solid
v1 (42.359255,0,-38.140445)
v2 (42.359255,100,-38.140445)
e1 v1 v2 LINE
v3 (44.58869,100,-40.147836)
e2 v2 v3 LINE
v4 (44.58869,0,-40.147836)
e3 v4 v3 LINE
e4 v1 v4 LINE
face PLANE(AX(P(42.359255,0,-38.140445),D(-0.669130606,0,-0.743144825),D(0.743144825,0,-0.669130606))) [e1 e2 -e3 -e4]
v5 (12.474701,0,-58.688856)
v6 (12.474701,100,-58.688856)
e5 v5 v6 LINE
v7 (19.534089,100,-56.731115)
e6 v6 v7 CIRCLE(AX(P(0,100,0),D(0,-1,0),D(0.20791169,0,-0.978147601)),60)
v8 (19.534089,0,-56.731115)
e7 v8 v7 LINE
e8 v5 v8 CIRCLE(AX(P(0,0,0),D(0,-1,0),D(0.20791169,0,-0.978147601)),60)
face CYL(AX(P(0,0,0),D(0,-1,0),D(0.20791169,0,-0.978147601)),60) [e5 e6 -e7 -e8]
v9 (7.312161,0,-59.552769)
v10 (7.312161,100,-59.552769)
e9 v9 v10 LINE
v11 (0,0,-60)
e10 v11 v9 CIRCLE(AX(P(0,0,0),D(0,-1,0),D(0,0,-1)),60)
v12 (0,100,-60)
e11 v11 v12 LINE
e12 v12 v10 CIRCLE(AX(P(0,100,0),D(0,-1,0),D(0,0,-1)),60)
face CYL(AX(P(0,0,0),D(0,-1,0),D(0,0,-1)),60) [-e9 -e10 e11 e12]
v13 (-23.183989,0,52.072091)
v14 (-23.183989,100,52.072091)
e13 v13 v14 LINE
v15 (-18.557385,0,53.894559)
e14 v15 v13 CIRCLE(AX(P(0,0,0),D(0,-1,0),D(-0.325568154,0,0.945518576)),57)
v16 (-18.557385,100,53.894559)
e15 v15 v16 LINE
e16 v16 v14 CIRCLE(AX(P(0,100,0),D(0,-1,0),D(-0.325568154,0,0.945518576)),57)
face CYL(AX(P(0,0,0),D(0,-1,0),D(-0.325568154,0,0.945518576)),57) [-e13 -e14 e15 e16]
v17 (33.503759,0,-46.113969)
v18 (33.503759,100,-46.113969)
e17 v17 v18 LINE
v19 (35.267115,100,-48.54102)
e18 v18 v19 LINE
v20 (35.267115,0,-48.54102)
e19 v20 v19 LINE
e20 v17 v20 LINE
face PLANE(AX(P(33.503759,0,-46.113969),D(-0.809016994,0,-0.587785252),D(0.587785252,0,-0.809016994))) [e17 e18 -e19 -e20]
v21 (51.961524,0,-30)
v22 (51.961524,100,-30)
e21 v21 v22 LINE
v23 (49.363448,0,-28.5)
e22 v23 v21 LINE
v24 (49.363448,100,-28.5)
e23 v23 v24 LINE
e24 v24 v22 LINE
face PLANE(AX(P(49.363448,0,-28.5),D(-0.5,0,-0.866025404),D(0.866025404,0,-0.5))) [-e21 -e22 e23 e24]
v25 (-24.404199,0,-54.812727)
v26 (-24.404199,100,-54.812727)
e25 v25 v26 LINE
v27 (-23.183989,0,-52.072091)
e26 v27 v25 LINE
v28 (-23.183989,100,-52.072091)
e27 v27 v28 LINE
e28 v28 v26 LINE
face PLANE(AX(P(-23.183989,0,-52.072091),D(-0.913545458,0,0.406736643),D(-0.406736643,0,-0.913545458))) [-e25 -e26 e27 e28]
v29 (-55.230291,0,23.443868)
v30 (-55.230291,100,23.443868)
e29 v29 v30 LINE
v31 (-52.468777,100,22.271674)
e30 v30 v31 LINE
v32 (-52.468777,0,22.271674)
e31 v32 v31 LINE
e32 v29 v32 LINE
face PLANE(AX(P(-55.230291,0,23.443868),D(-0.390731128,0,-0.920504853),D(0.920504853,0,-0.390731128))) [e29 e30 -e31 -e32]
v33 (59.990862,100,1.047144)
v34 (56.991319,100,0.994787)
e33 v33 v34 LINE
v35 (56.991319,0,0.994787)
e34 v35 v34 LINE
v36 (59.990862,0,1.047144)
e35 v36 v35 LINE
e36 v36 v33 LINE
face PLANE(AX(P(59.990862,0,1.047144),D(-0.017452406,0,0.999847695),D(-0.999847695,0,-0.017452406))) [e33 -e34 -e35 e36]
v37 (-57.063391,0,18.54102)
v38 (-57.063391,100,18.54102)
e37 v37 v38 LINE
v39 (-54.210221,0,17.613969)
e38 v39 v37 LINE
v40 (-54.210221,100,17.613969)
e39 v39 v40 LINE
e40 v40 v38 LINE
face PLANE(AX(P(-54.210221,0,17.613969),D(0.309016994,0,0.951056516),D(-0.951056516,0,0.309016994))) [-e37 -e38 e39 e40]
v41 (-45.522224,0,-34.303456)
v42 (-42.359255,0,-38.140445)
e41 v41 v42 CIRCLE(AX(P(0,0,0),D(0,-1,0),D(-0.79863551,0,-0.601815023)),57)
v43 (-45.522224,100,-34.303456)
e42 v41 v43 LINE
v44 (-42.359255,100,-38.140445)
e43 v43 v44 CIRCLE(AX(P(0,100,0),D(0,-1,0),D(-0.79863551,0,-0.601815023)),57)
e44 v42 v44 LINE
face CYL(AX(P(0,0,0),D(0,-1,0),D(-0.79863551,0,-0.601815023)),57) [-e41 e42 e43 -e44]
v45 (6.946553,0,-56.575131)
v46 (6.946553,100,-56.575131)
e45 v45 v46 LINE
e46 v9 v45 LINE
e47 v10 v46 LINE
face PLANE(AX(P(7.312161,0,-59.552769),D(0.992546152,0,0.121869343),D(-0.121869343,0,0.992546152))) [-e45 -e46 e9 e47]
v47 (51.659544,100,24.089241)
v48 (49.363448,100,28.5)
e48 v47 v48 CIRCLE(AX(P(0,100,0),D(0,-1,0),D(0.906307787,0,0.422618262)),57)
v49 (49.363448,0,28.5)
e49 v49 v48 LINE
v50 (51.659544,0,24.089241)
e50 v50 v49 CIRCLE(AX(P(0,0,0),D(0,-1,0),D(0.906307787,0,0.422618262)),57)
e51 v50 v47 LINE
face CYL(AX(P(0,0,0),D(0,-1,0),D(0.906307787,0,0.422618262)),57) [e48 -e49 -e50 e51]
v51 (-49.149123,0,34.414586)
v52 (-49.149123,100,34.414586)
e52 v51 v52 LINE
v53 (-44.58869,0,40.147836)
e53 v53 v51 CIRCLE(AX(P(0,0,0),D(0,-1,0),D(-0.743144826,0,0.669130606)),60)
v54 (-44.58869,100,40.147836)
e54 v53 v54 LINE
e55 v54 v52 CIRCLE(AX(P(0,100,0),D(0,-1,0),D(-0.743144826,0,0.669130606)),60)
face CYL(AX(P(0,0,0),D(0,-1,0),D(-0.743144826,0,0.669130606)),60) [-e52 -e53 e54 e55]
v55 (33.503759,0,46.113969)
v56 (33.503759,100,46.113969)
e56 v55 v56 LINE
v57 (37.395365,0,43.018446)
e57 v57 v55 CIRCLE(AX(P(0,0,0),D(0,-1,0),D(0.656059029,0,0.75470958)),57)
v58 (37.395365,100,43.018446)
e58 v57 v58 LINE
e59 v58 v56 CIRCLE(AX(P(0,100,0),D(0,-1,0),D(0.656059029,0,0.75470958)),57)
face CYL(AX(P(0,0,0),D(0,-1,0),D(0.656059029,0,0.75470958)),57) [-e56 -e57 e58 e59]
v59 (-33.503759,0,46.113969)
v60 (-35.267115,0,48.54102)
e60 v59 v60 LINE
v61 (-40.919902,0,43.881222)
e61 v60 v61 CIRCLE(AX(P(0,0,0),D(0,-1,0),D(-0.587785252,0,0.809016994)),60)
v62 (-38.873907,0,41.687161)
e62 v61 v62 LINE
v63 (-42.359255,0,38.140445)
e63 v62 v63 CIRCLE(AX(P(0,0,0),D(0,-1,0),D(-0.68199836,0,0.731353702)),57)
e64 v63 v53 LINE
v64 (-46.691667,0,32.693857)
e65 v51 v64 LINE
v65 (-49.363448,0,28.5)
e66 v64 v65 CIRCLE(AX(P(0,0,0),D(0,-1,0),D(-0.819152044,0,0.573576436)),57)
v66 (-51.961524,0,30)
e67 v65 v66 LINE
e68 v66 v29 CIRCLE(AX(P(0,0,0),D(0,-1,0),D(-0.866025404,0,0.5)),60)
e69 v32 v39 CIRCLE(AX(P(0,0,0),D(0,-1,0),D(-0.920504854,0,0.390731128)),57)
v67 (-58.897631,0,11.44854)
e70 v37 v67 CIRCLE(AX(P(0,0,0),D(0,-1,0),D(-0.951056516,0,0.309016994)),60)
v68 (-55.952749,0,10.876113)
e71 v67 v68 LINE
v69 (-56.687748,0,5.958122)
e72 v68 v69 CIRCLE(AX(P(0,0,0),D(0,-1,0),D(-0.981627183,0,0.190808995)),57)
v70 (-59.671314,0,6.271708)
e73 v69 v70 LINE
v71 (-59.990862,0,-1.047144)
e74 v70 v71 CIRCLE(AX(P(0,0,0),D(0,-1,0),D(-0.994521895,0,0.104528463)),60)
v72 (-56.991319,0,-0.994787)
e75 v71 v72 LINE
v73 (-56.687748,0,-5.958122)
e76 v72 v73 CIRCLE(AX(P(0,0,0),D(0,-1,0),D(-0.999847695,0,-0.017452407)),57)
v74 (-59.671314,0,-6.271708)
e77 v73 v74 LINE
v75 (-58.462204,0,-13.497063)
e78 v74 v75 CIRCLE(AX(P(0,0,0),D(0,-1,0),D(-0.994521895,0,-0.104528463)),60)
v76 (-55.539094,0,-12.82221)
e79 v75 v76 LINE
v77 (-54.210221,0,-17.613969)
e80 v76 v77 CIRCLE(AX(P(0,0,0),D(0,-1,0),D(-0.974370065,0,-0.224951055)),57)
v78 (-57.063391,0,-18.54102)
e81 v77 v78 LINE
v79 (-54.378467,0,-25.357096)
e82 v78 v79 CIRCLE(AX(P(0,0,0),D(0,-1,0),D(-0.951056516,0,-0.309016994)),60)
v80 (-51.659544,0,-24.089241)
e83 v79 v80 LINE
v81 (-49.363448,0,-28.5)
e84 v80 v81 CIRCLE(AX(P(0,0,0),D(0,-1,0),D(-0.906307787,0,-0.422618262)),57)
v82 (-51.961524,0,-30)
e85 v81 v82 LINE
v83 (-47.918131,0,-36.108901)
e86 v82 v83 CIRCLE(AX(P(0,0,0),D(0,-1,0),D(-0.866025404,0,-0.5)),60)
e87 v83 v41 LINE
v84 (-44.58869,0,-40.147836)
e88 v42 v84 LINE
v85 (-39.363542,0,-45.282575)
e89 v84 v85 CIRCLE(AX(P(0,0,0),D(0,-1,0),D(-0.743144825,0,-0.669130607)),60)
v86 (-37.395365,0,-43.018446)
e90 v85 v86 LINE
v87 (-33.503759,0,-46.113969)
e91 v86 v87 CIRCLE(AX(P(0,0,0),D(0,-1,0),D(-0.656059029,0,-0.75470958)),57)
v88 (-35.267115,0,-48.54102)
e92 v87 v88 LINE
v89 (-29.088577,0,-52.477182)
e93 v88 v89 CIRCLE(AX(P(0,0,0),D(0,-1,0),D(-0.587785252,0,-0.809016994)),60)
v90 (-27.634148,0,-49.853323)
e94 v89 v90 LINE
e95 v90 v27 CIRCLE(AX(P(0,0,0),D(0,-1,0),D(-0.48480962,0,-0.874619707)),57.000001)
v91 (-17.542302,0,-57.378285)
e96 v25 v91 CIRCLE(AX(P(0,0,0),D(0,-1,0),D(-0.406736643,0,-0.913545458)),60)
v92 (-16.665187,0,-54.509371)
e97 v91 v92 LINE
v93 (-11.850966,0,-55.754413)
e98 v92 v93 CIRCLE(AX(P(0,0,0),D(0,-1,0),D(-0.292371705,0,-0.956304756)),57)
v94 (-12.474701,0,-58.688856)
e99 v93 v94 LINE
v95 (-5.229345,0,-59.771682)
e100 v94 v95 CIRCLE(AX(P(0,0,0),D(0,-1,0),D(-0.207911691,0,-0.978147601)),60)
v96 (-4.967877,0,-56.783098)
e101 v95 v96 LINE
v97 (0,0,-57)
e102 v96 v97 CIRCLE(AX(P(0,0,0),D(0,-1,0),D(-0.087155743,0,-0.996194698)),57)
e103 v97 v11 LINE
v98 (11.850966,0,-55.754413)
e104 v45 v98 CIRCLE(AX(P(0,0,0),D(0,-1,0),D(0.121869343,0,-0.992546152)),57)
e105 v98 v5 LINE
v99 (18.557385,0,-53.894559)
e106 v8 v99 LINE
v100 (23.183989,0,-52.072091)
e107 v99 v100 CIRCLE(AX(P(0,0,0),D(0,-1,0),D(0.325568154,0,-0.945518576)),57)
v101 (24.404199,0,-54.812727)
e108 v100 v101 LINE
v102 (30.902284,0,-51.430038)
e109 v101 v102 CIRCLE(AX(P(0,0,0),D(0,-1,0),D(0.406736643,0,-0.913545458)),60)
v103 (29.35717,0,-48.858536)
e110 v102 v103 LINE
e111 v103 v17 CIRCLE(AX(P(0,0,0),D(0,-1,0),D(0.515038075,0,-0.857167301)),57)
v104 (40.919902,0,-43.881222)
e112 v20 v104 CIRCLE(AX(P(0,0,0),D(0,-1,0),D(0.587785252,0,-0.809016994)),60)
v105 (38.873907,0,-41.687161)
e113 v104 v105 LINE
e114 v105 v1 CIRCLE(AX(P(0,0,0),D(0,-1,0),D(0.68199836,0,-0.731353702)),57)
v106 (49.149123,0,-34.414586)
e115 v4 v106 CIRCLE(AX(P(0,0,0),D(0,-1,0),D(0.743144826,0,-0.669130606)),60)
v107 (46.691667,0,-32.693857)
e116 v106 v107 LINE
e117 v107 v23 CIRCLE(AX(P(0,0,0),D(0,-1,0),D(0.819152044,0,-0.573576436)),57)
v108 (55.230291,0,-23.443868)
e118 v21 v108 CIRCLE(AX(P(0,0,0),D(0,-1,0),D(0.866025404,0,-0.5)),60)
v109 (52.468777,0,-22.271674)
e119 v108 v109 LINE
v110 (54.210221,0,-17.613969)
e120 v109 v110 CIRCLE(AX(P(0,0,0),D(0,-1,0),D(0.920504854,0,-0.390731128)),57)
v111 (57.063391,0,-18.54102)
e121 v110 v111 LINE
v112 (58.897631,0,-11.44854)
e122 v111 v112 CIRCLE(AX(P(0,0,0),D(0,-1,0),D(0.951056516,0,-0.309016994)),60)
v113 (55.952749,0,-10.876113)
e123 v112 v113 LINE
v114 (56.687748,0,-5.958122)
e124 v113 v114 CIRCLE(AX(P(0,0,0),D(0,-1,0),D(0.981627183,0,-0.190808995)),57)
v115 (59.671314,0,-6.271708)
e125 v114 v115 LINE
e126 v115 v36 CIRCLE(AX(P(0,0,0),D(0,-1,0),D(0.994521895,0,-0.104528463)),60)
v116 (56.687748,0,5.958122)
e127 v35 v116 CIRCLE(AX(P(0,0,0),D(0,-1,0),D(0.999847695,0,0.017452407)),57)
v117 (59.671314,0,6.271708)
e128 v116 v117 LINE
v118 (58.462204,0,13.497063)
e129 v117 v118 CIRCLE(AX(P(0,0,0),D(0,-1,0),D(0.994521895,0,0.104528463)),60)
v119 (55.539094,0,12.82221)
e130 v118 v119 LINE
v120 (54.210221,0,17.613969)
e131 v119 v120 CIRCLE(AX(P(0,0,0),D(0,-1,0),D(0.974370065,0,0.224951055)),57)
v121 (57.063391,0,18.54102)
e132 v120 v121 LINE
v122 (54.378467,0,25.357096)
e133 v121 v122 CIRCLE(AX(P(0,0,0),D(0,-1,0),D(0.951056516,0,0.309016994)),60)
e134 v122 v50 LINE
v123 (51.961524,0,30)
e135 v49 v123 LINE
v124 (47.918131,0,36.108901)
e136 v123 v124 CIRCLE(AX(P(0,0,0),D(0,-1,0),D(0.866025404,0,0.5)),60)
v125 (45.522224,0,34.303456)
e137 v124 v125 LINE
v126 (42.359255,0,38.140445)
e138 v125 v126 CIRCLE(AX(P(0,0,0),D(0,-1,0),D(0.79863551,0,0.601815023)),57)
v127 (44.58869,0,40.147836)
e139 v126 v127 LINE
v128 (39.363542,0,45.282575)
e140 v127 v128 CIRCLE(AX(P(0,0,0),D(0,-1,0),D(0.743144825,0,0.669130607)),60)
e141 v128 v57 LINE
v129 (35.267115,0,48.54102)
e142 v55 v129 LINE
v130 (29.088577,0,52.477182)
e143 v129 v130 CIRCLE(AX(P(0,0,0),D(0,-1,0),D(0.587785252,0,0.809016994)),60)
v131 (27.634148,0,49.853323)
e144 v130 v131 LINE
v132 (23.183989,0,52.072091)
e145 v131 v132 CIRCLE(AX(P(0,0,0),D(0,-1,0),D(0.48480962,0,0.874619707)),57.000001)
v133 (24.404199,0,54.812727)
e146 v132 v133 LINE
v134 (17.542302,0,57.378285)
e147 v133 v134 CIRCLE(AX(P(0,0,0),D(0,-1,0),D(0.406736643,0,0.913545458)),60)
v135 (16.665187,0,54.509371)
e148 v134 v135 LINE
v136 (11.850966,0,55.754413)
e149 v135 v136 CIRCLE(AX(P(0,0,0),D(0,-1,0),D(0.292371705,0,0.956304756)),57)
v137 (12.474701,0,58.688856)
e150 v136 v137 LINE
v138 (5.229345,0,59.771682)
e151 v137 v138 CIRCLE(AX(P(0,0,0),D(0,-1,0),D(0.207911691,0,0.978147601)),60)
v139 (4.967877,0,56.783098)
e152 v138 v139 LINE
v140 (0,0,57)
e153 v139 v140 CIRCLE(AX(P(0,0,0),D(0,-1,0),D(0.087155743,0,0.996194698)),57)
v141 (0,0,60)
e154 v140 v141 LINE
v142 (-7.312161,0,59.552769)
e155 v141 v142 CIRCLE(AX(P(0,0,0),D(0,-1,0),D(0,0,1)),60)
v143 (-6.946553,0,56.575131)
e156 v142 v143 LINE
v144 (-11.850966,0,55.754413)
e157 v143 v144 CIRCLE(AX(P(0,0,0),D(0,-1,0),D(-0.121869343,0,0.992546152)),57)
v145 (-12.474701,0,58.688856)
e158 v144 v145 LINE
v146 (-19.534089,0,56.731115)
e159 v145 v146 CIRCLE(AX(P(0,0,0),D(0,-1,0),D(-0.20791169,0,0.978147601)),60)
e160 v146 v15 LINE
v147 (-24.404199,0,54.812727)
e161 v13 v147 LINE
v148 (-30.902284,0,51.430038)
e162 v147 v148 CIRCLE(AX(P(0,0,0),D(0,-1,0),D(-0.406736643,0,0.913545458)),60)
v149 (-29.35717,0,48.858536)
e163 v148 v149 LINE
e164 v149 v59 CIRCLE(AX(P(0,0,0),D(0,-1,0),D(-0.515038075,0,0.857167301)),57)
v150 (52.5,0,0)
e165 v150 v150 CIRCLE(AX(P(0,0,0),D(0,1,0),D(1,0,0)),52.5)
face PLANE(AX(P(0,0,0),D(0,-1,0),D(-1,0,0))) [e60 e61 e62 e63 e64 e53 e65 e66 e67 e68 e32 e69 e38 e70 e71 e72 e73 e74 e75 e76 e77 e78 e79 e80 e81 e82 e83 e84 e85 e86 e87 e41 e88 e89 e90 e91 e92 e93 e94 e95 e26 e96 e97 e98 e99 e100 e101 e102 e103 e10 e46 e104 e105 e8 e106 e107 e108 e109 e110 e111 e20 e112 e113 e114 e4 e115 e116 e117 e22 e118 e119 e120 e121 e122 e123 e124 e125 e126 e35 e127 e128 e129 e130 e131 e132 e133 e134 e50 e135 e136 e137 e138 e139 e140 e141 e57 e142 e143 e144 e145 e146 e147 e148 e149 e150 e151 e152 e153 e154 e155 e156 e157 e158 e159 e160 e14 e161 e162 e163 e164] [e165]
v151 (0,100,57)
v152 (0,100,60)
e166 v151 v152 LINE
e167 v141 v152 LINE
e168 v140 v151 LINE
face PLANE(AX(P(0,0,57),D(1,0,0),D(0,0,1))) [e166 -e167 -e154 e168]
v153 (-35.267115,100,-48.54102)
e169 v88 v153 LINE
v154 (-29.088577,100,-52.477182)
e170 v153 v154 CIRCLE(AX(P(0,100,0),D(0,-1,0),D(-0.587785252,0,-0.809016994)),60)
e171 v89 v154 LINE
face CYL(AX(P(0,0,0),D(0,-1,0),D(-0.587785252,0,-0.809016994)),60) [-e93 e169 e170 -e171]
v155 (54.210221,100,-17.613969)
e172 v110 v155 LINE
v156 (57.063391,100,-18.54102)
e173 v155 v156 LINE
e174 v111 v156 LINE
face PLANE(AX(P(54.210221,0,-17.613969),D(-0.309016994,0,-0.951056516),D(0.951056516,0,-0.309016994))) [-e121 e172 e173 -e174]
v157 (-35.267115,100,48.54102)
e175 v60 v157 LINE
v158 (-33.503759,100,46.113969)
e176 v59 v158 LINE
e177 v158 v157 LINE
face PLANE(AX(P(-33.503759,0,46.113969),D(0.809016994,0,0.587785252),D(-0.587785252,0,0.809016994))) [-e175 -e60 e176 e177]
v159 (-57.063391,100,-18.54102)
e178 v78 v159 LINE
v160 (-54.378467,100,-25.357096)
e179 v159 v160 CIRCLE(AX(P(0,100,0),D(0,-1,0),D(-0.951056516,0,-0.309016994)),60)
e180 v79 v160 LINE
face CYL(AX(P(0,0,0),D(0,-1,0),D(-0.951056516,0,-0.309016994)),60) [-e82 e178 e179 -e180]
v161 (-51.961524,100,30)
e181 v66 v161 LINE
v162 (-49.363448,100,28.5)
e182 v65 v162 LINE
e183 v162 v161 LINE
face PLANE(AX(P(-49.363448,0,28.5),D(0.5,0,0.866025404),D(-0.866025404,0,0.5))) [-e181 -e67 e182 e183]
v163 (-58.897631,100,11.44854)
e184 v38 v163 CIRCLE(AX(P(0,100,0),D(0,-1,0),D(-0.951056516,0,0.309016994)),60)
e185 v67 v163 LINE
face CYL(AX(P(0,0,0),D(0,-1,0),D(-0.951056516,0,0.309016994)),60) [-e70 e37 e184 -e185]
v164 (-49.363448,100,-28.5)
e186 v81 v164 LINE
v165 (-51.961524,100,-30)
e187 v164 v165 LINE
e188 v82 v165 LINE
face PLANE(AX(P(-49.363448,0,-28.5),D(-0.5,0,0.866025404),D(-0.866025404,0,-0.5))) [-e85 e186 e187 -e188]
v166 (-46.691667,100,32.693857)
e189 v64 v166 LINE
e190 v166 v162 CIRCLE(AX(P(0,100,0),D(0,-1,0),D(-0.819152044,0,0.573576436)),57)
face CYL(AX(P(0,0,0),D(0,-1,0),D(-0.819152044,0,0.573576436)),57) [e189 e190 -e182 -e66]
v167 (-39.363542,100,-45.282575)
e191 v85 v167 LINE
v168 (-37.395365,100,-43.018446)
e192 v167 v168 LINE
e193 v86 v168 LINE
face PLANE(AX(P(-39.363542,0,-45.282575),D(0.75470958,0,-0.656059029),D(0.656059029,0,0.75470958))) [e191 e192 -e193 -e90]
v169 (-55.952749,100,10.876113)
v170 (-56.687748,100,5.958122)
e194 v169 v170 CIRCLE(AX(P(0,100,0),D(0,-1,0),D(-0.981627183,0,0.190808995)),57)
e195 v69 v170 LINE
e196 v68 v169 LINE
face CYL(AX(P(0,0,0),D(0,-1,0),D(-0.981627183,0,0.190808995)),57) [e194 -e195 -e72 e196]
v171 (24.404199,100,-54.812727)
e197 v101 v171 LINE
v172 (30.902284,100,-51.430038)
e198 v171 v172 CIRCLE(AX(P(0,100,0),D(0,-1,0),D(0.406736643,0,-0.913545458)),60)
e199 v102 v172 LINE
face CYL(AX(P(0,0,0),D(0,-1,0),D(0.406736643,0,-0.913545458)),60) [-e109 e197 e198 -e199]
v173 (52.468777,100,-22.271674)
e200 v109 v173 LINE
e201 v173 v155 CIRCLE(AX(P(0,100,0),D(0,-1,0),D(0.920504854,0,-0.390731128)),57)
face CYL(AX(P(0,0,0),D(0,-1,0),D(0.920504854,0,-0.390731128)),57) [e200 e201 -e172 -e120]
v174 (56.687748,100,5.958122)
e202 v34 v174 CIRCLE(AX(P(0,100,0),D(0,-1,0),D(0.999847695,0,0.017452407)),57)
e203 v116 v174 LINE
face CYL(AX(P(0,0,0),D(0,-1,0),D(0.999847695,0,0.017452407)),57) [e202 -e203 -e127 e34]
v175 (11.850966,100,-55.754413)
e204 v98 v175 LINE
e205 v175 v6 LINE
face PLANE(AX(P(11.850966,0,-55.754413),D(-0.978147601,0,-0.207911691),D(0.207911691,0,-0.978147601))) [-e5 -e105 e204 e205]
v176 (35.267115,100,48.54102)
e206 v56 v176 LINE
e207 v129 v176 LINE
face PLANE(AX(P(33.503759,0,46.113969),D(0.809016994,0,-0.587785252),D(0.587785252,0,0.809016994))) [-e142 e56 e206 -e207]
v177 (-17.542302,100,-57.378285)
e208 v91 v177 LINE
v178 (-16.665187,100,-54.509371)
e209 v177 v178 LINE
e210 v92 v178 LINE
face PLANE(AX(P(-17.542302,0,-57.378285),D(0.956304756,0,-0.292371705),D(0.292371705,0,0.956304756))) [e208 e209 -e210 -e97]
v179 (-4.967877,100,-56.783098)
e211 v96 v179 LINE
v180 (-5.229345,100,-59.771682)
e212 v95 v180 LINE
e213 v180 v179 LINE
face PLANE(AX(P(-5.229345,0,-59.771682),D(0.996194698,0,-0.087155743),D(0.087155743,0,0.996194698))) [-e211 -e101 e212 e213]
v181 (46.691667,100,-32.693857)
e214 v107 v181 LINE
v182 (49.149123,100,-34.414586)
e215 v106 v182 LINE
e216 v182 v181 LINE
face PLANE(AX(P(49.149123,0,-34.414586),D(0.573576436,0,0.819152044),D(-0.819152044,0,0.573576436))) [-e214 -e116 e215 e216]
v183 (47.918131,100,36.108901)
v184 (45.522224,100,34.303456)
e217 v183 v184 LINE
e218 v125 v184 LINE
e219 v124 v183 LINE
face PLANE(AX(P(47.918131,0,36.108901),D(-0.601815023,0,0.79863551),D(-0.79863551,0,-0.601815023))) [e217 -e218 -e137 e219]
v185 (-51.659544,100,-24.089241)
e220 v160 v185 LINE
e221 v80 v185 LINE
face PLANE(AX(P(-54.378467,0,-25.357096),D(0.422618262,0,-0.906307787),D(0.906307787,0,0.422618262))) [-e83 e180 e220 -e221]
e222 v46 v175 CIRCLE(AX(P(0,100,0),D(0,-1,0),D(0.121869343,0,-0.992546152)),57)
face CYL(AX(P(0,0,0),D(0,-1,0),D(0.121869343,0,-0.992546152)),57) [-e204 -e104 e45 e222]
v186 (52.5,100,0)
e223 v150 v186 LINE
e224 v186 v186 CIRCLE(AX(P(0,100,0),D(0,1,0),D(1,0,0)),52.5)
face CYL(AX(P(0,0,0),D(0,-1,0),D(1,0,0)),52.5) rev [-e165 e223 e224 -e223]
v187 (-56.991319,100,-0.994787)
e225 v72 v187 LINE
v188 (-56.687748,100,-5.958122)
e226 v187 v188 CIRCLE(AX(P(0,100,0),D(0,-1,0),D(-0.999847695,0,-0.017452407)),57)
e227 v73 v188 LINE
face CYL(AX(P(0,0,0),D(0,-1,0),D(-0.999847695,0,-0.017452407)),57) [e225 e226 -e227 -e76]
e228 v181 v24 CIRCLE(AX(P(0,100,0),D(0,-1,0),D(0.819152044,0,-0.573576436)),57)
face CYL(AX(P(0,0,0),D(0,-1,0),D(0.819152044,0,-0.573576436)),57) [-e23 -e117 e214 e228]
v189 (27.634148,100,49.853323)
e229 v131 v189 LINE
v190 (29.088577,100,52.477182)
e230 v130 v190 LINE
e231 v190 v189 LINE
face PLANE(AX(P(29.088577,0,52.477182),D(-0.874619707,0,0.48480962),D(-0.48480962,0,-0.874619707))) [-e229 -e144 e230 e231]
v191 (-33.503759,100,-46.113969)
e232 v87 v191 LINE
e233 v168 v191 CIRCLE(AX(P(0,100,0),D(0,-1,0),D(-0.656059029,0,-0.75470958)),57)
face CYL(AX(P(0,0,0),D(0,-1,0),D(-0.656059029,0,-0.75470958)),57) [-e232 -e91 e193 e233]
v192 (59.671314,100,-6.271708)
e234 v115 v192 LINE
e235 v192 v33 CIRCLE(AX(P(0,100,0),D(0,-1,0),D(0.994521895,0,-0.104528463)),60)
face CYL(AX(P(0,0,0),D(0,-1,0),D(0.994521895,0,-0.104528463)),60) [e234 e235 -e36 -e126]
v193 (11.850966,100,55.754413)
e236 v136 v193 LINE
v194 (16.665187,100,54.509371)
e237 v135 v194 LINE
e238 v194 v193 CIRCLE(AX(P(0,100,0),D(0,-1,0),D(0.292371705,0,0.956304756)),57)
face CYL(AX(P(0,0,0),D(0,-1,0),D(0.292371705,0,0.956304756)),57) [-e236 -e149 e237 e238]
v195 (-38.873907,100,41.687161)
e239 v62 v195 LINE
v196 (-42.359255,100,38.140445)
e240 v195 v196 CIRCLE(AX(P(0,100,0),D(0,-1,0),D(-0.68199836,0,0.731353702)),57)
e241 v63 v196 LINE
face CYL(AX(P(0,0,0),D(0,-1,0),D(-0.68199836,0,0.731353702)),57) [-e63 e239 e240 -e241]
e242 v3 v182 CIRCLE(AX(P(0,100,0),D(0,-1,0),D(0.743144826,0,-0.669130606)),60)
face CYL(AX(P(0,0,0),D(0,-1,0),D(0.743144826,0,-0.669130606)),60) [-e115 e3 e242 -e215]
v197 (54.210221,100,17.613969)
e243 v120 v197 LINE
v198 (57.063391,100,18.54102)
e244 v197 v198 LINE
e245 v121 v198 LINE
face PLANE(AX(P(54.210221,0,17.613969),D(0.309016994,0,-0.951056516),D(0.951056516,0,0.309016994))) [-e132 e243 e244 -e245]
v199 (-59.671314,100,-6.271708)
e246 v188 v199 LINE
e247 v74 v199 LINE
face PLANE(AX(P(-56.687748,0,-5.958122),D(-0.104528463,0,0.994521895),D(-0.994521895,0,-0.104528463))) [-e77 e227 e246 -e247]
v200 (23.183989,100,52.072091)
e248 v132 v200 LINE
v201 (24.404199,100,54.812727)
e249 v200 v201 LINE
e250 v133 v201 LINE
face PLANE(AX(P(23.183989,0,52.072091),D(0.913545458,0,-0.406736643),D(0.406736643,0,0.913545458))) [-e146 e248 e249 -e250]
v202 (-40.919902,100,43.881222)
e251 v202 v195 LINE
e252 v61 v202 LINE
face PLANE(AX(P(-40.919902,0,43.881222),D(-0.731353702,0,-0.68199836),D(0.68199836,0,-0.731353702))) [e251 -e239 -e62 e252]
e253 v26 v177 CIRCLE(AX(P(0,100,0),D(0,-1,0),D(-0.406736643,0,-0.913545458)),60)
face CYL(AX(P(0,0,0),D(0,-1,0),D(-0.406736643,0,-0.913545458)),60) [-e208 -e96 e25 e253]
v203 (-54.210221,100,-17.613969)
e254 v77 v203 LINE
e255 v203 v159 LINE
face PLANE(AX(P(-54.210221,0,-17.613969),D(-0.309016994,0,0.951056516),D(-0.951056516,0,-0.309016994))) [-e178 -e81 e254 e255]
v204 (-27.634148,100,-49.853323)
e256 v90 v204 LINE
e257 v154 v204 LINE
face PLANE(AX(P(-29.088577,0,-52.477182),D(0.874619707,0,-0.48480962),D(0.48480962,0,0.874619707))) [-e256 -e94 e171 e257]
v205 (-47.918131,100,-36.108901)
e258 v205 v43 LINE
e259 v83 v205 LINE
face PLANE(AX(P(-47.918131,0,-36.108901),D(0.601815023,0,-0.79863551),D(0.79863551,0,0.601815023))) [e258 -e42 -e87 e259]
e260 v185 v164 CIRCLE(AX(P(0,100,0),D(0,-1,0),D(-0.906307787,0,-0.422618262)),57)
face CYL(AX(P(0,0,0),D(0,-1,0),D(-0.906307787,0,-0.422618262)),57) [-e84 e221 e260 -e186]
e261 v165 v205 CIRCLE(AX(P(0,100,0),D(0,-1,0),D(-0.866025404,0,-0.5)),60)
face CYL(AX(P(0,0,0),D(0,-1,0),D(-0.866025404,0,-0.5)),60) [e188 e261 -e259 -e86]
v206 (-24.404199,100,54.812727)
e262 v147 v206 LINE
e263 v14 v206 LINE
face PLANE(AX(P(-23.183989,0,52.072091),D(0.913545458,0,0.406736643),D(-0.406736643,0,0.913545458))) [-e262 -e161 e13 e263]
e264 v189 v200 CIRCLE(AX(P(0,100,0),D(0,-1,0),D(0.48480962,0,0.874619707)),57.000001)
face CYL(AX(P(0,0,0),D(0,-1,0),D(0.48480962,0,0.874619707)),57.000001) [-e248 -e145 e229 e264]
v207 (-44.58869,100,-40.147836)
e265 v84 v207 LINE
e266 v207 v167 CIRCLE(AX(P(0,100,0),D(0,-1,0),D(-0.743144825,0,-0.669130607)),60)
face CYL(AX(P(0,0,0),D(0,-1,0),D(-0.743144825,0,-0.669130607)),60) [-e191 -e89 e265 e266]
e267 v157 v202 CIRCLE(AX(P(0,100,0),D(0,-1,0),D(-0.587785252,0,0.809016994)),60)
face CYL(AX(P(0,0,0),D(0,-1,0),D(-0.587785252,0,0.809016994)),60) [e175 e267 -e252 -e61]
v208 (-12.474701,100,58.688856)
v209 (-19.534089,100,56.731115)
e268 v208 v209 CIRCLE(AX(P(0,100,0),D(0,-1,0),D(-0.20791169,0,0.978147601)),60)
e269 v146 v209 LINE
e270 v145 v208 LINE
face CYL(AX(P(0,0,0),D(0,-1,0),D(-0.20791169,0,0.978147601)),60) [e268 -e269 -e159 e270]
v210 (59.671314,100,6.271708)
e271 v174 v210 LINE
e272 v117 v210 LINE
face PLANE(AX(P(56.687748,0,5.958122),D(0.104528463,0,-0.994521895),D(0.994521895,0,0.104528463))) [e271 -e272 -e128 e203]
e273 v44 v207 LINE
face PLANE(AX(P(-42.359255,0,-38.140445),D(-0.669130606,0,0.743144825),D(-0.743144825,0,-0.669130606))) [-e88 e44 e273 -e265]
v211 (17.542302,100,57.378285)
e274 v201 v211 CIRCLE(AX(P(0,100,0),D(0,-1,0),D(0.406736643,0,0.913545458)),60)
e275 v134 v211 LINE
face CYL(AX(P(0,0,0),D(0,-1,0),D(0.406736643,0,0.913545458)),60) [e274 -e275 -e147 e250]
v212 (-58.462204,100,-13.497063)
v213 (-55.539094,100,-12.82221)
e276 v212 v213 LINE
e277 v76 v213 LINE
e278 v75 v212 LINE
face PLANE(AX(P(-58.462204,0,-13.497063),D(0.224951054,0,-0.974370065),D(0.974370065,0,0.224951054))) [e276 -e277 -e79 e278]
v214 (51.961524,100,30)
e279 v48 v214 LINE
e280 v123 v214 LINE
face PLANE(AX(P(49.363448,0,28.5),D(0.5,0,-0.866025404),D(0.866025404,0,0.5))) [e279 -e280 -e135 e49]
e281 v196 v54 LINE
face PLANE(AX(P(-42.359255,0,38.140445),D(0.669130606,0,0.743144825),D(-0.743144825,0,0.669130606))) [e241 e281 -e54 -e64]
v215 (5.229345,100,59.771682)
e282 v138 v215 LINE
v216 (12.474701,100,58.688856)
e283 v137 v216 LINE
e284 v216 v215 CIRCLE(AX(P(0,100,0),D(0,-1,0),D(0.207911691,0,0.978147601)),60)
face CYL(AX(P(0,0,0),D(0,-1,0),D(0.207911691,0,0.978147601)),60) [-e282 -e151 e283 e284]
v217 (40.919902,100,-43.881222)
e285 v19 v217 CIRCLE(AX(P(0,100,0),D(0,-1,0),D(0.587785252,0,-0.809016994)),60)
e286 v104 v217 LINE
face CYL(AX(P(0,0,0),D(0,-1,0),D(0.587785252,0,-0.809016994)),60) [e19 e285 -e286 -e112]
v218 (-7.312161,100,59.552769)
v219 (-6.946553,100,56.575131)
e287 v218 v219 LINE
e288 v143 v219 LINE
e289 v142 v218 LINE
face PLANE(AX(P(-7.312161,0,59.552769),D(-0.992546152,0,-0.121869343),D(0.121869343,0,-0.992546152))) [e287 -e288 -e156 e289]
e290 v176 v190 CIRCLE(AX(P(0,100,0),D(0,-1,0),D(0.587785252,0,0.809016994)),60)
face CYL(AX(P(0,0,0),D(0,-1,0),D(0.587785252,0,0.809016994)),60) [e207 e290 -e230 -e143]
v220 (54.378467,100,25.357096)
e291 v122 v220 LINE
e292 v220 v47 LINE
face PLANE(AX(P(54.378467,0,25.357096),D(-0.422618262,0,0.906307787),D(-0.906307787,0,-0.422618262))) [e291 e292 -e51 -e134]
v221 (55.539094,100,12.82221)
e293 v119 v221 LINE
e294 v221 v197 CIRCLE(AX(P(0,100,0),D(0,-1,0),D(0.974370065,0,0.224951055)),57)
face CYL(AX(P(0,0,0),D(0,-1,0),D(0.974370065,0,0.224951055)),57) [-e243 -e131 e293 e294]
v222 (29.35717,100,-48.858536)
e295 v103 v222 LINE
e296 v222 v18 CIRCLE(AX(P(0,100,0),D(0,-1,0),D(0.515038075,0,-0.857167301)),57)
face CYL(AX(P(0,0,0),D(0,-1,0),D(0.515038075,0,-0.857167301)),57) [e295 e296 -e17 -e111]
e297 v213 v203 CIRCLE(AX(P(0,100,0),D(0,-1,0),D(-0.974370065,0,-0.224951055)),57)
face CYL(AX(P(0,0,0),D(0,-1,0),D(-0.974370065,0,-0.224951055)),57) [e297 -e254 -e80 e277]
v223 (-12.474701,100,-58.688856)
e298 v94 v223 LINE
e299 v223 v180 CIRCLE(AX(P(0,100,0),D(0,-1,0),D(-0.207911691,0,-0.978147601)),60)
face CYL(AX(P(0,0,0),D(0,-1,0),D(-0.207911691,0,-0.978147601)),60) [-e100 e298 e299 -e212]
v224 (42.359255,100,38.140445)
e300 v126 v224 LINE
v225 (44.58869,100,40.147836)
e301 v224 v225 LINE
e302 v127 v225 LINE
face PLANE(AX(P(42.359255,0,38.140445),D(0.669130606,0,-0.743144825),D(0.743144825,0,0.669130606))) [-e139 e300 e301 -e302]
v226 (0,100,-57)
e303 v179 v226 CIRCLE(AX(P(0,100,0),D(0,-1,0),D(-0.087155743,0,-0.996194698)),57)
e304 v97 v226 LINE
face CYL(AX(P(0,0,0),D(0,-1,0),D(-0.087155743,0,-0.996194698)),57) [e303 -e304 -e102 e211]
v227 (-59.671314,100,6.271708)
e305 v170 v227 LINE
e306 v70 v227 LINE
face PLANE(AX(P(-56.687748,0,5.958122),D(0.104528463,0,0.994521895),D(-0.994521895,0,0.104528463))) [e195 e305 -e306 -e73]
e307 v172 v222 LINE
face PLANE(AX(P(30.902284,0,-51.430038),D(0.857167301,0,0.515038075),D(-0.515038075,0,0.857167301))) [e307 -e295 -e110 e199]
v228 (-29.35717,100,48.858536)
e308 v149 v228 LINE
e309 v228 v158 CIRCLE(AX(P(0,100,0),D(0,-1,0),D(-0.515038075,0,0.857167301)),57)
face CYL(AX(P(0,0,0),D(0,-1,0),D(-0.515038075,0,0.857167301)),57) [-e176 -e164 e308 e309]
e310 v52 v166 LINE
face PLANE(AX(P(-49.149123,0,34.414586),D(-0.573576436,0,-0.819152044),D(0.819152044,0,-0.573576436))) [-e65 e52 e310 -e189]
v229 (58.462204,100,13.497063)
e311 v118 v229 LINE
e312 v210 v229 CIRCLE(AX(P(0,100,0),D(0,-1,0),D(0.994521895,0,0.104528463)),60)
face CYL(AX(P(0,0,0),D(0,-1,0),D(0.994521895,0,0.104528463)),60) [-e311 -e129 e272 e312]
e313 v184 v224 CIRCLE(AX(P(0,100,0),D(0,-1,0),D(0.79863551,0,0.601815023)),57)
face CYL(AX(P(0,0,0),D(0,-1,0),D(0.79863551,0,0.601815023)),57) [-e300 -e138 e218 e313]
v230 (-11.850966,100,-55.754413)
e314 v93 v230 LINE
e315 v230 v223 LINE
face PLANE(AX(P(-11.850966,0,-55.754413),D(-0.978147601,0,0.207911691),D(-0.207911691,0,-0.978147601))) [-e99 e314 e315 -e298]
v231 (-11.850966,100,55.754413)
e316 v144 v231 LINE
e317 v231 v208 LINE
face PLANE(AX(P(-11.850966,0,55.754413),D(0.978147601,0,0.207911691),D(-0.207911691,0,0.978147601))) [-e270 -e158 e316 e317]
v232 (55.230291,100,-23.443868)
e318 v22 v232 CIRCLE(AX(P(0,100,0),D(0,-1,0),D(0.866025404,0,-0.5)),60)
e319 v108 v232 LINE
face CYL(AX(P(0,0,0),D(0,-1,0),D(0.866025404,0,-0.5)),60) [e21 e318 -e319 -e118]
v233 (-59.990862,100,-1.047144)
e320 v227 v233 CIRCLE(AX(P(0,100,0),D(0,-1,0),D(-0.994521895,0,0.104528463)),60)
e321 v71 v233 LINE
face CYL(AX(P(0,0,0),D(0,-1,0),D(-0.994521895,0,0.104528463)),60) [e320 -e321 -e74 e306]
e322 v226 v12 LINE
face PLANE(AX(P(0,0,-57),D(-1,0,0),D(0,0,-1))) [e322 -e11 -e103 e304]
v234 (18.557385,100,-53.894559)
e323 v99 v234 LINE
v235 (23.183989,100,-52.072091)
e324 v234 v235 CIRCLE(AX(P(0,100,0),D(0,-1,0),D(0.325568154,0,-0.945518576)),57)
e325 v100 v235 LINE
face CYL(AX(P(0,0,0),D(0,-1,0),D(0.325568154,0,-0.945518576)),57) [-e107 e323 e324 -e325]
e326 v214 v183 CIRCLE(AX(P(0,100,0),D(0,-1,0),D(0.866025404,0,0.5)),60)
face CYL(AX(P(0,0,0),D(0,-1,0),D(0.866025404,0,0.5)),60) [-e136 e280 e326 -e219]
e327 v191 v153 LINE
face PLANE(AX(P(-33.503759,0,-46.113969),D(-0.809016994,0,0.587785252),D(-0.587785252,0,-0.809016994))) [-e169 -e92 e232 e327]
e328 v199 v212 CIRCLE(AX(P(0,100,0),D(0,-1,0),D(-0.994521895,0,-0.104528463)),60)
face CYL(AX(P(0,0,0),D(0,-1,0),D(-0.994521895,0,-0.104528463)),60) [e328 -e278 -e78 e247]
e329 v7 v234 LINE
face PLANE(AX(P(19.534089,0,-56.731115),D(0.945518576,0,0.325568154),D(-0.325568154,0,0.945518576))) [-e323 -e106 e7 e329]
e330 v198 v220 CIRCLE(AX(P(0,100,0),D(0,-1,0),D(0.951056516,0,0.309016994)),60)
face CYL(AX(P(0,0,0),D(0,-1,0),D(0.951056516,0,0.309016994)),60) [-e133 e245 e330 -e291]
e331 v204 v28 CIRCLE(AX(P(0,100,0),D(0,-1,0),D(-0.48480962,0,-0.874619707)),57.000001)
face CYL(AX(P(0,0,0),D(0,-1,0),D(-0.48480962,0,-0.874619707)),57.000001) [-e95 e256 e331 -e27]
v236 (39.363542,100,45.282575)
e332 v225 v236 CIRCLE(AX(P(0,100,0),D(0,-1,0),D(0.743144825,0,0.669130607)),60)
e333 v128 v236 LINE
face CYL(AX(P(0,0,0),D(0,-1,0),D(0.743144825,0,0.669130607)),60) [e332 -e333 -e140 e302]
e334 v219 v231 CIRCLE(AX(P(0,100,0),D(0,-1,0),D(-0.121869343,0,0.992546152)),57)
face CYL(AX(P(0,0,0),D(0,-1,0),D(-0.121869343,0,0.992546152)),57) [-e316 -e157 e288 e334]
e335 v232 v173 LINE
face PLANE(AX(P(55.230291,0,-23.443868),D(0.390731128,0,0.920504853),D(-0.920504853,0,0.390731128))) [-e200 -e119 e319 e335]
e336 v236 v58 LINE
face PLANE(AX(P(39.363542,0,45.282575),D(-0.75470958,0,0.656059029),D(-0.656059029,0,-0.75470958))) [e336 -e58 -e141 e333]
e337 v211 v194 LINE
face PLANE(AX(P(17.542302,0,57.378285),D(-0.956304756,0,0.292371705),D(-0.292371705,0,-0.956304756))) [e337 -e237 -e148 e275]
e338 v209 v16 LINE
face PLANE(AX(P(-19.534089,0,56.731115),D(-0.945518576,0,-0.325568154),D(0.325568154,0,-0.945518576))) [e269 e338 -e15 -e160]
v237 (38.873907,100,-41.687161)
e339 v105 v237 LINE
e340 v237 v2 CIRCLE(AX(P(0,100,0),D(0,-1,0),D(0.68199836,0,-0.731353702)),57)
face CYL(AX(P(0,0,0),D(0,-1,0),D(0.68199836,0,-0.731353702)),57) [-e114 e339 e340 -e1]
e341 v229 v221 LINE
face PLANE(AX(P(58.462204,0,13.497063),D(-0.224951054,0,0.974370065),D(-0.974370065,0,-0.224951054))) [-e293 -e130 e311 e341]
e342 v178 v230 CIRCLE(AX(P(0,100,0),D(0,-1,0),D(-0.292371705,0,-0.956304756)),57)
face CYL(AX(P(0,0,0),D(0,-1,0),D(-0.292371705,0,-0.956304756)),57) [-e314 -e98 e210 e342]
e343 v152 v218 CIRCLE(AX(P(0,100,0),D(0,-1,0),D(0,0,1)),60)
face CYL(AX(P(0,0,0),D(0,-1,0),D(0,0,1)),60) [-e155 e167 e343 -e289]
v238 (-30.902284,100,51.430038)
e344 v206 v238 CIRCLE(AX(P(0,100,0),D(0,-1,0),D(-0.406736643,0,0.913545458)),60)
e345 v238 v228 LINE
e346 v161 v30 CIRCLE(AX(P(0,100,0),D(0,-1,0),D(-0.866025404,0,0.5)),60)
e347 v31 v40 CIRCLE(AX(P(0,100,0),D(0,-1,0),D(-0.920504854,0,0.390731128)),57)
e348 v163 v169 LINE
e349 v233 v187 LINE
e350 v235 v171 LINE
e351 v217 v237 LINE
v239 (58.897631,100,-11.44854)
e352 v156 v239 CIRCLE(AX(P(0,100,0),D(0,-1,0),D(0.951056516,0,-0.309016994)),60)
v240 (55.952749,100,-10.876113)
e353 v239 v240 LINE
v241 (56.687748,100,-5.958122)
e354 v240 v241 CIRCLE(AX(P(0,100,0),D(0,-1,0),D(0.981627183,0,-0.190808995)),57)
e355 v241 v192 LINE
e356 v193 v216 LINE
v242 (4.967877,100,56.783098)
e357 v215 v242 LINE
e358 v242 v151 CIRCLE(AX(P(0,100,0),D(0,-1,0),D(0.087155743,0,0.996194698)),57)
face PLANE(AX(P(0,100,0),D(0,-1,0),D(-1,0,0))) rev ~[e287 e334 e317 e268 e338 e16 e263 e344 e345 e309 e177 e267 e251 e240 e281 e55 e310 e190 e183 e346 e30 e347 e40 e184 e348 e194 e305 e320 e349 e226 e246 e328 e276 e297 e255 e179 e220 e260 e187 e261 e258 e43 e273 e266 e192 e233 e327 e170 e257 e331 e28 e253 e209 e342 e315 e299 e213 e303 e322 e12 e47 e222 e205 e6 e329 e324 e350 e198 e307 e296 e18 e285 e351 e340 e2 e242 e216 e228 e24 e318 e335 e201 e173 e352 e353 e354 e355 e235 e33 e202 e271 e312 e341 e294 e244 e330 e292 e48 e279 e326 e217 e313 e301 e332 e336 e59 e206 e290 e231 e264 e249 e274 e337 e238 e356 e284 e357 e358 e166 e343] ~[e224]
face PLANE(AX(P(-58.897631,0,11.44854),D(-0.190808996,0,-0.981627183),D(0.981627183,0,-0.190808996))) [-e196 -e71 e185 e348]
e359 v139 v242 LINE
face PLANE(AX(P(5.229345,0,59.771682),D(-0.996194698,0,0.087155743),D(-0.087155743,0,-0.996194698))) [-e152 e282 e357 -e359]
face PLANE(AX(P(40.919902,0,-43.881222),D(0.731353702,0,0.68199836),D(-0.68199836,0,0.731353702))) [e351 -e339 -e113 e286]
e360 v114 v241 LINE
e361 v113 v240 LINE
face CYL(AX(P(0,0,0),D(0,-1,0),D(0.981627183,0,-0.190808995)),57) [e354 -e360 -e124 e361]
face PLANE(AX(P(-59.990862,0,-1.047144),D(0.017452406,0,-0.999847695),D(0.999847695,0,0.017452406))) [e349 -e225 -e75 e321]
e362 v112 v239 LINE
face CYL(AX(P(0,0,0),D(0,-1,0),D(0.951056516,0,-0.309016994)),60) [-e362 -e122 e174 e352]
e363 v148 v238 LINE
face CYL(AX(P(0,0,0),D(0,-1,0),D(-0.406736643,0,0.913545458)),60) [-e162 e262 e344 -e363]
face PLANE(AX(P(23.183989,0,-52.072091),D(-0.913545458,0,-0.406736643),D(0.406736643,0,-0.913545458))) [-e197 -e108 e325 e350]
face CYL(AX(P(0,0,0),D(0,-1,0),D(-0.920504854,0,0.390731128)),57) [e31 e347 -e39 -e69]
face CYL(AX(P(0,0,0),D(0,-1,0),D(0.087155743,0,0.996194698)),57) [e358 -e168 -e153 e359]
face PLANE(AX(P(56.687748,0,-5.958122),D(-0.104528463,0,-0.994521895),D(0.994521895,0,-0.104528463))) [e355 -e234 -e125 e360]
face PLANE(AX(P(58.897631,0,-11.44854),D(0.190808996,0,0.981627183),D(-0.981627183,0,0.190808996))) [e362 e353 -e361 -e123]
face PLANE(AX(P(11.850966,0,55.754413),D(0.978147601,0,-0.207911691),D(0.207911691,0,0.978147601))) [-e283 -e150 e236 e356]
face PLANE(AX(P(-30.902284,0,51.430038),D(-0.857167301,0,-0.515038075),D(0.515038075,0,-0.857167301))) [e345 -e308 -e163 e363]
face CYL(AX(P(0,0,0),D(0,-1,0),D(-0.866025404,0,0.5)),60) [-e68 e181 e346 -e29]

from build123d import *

# Parameters (mm, degrees)
SKETCH1_R           = 52.5
BOSS_EXTRUDE1_DEPTH = 100


with BuildPart() as part:
    # Sketch1 → Boss-Extrude1 (new body)
    with BuildSketch(Plane(origin=(0, 0, 0), x_dir=(1, 0, 0), z_dir=(0, 1, 0))):
        with BuildLine():
            Line((0, 57), (0, 60))
            ThreePointArc((0, 60), (3.662912372, 59.888087905), (7.312160604, 59.552769098))
            Line((7.312160604, 59.552769098), (6.946552574, 56.575130644))
            ThreePointArc((6.946552574, 56.575130644), (9.407713534, 56.218279288), (11.850966377, 55.754413242))
            Line((11.850966377, 55.754413242), (12.474701449, 58.688856044))
            ThreePointArc((12.474701449, 58.688856044), (16.034302565, 57.817827193), (19.534089267, 56.731114536))
            Line((19.534089267, 56.731114536), (18.557384804, 53.894558809))
            ThreePointArc((18.557384804, 53.894558809), (20.890569923, 53.033801375), (23.183988655, 52.072091086))
            Line((23.183988655, 52.072091086), (24.404198585, 54.812727459))
            ThreePointArc((24.404198585, 54.812727459), (27.704916794, 53.220649991), (30.902284495, 51.430038042))
            Line((30.902284495, 51.430038042), (29.35717027, 48.85853614))
            ThreePointArc((29.35717027, 48.85853614), (31.460408163, 47.531491858), (33.503759381, 46.113968679))
            Line((33.503759381, 46.113968679), (35.267115138, 48.541019662))
            ThreePointArc((35.267115138, 48.541019662), (38.164693217, 46.297475003), (40.919901604, 43.881222097))
            Line((40.919901604, 43.881222097), (38.873906524, 41.687160992))
            ThreePointArc((38.873906524, 41.687160992), (40.655275602, 39.951828065), (42.359255052, 38.140444562))
            Line((42.359255052, 38.140444562), (44.588689529, 40.147836382))
            ThreePointArc((44.588689529, 40.147836382), (46.956489411, 37.350878198), (49.149122657, 34.414586181))
            Line((49.149122657, 34.414586181), (46.691666524, 32.693856872))
            ThreePointArc((46.691666524, 32.693856872), (48.073312411, 30.626077676), (49.363448016, 28.5))
            Line((49.363448016, 28.5), (51.961524227, 30))
            ThreePointArc((51.961524227, 30), (53.696061696, 26.771868787), (55.230291207, 23.443867709))
            Line((55.230291207, 23.443867709), (52.468776647, 22.271674324))
            ThreePointArc((52.468776647, 22.271674324), (53.390314787, 19.961820732), (54.210221429, 17.613968679))
            Line((54.210221429, 17.613968679), (57.063390978, 18.541019662))
            ThreePointArc((57.063390978, 18.541019662), (58.088858423, 15.022800243), (58.897631007, 11.448539723))
            Line((58.897631007, 11.448539723), (55.952749457, 10.876112736))
            ThreePointArc((55.952749457, 10.876112736), (56.373904212, 8.425136434), (56.687748036, 5.958122406))
            Line((56.687748036, 5.958122406), (59.671313722, 6.271707796))
            ThreePointArc((59.671313722, 6.271707796), (59.942893295, 2.617163242), (59.990861709, -1.047144386))
            Line((59.990861709, -1.047144386), (56.991318624, -0.994787167))
            ThreePointArc((56.991318624, -0.994787167), (56.89368351, -3.479766753), (56.687748036, -5.958122406))
            Line((56.687748036, -5.958122406), (59.671313722, -6.271707796))
            ThreePointArc((59.671313722, -6.271707796), (59.177136092, -9.902856352), (58.462203887, -13.497063261))
            Line((58.462203887, -13.497063261), (55.539093693, -12.822210098))
            ThreePointArc((55.539093693, -12.822210098), (54.926935833, -15.232587436), (54.210221429, -17.613968679))
            Line((54.210221429, -17.613968679), (57.063390978, -18.541019662))
            ThreePointArc((57.063390978, -18.541019662), (55.825054079, -21.990073603), (54.378467222, -25.357095704))
            Line((54.378467222, -25.357095704), (51.659543861, -24.089240919))
            ThreePointArc((51.659543861, -24.089240919), (50.559617491, -26.319670954), (49.363448016, -28.5))
            Line((49.363448016, -28.5), (51.961524227, -30))
            ThreePointArc((51.961524227, -30), (50.033149324, -33.116219119), (47.918130603, -36.108901389))
            Line((47.918130603, -36.108901389), (45.522224073, -34.30345632))
            ThreePointArc((45.522224073, -34.30345632), (43.982601253, -36.256458556), (42.359255052, -38.140444562))
            Line((42.359255052, -38.140444562), (44.588689529, -40.147836382))
            ThreePointArc((44.588689529, -40.147836382), (42.054555858, -42.795026949), (39.363541739, -45.282574813))
            Line((39.363541739, -45.282574813), (37.395364652, -43.018446073))
            ThreePointArc((37.395364652, -43.018446073), (35.483334288, -44.608664941), (33.503759381, -46.113968679))
            Line((33.503759381, -46.113968679), (35.267115138, -48.541019662))
            ThreePointArc((35.267115138, -48.541019662), (32.237976501, -50.603486749), (29.088577215, -52.477182428))
            Line((29.088577215, -52.477182428), (27.634148354, -49.853323307))
            ThreePointArc((27.634148354, -49.853323307), (25.433275347, -51.011258611), (23.183988655, -52.072091086))
            Line((23.183988655, -52.072091086), (24.404198585, -54.812727459))
            ThreePointArc((24.404198585, -54.812727459), (21.012442876, -56.200331355), (17.542302283, -57.378285358))
            Line((17.542302283, -57.378285358), (16.665187169, -54.50937109))
            ThreePointArc((16.665187169, -54.50937109), (14.271660231, -55.184415502), (11.850966377, -55.754413242))
            Line((11.850966377, -55.754413242), (12.474701449, -58.688856044))
            ThreePointArc((12.474701449, -58.688856044), (8.868564668, -59.340951802), (5.229344565, -59.771681886))
            Line((5.229344565, -59.771681886), (4.967877337, -56.783097791))
            ThreePointArc((4.967877337, -56.783097791), (2.48630508, -56.94574863), (0, -57))
            Line((0, -57), (0, -60))
            ThreePointArc((0, -60), (-3.662912372, -59.888087905), (-7.312160604, -59.552769098))
            Line((-7.312160604, -59.552769098), (-6.946552574, -56.575130644))
            ThreePointArc((-6.946552574, -56.575130644), (-9.407713534, -56.218279288), (-11.850966377, -55.754413242))
            Line((-11.850966377, -55.754413242), (-12.474701449, -58.688856044))
            ThreePointArc((-12.474701449, -58.688856044), (-16.034302565, -57.817827193), (-19.534089267, -56.731114536))
            Line((-19.534089267, -56.731114536), (-18.557384804, -53.894558809))
            ThreePointArc((-18.557384804, -53.894558809), (-20.890569923, -53.033801375), (-23.183988655, -52.072091086))
            Line((-23.183988655, -52.072091086), (-24.404198585, -54.812727459))
            ThreePointArc((-24.404198585, -54.812727459), (-27.704916794, -53.220649991), (-30.902284495, -51.430038042))
            Line((-30.902284495, -51.430038042), (-29.35717027, -48.85853614))
            ThreePointArc((-29.35717027, -48.85853614), (-31.460408163, -47.531491858), (-33.503759381, -46.113968679))
            Line((-33.503759381, -46.113968679), (-35.267115138, -48.541019662))
            ThreePointArc((-35.267115138, -48.541019662), (-38.164693217, -46.297475003), (-40.919901604, -43.881222097))
            Line((-40.919901604, -43.881222097), (-38.873906524, -41.687160992))
            ThreePointArc((-38.873906524, -41.687160992), (-40.655275602, -39.951828065), (-42.359255052, -38.140444562))
            Line((-42.359255052, -38.140444562), (-44.588689529, -40.147836382))
            ThreePointArc((-44.588689529, -40.147836382), (-46.956489411, -37.350878198), (-49.149122657, -34.414586181))
            Line((-49.149122657, -34.414586181), (-46.691666524, -32.693856872))
            ThreePointArc((-46.691666524, -32.693856872), (-48.073312411, -30.626077676), (-49.363448016, -28.5))
            Line((-49.363448016, -28.5), (-51.961524227, -30))
            ThreePointArc((-51.961524227, -30), (-53.696061696, -26.771868787), (-55.230291207, -23.443867709))
            Line((-55.230291207, -23.443867709), (-52.468776647, -22.271674324))
            ThreePointArc((-52.468776647, -22.271674324), (-53.390314787, -19.961820732), (-54.210221429, -17.613968679))
            Line((-54.210221429, -17.613968679), (-57.063390978, -18.541019662))
            ThreePointArc((-57.063390978, -18.541019662), (-58.088858423, -15.022800243), (-58.897631007, -11.448539723))
            Line((-58.897631007, -11.448539723), (-55.952749457, -10.876112736))
            ThreePointArc((-55.952749457, -10.876112736), (-56.373904212, -8.425136434), (-56.687748036, -5.958122406))
            Line((-56.687748036, -5.958122406), (-59.671313722, -6.271707796))
            ThreePointArc((-59.671313722, -6.271707796), (-59.942893295, -2.617163242), (-59.990861709, 1.047144386))
            Line((-59.990861709, 1.047144386), (-56.991318624, 0.994787167))
            ThreePointArc((-56.991318624, 0.994787167), (-56.89368351, 3.479766753), (-56.687748036, 5.958122406))
            Line((-56.687748036, 5.958122406), (-59.671313722, 6.271707796))
            ThreePointArc((-59.671313722, 6.271707796), (-59.177136092, 9.902856352), (-58.462203887, 13.497063261))
            Line((-58.462203887, 13.497063261), (-55.539093693, 12.822210098))
            ThreePointArc((-55.539093693, 12.822210098), (-54.926935833, 15.232587436), (-54.210221429, 17.613968679))
            Line((-54.210221429, 17.613968679), (-57.063390978, 18.541019662))
            ThreePointArc((-57.063390978, 18.541019662), (-55.825054079, 21.990073603), (-54.378467222, 25.357095704))
            Line((-54.378467222, 25.357095704), (-51.659543861, 24.089240919))
            ThreePointArc((-51.659543861, 24.089240919), (-50.559617491, 26.319670954), (-49.363448016, 28.5))
            Line((-49.363448016, 28.5), (-51.961524227, 30))
            ThreePointArc((-51.961524227, 30), (-50.033149324, 33.116219119), (-47.918130603, 36.108901389))
            Line((-47.918130603, 36.108901389), (-45.522224073, 34.30345632))
            ThreePointArc((-45.522224073, 34.30345632), (-43.982601253, 36.256458556), (-42.359255052, 38.140444562))
            Line((-42.359255052, 38.140444562), (-44.588689529, 40.147836382))
            ThreePointArc((-44.588689529, 40.147836382), (-42.054555858, 42.795026949), (-39.363541739, 45.282574813))
            Line((-39.363541739, 45.282574813), (-37.395364652, 43.018446073))
            ThreePointArc((-37.395364652, 43.018446073), (-35.483334288, 44.608664941), (-33.503759381, 46.113968679))
            Line((-33.503759381, 46.113968679), (-35.267115138, 48.541019662))
            ThreePointArc((-35.267115138, 48.541019662), (-32.237976501, 50.603486749), (-29.088577215, 52.477182428))
            Line((-29.088577215, 52.477182428), (-27.634148354, 49.853323307))
            ThreePointArc((-27.634148354, 49.853323307), (-25.433275347, 51.011258611), (-23.183988655, 52.072091086))
            Line((-23.183988655, 52.072091086), (-24.404198585, 54.812727459))
            ThreePointArc((-24.404198585, 54.812727459), (-21.012442876, 56.200331355), (-17.542302283, 57.378285358))
            Line((-17.542302283, 57.378285358), (-16.665187169, 54.50937109))
            ThreePointArc((-16.665187169, 54.50937109), (-14.271660231, 55.184415502), (-11.850966377, 55.754413242))
            Line((-11.850966377, 55.754413242), (-12.474701449, 58.688856044))
            ThreePointArc((-12.474701449, 58.688856044), (-8.868564668, 59.340951802), (-5.229344565, 59.771681886))
            Line((-5.229344565, 59.771681886), (-4.967877337, 56.783097791))
            ThreePointArc((-4.967877337, 56.783097791), (-2.48630508, 56.94574863), (0, 57))
        make_face()
        Circle(SKETCH1_R, mode=Mode.SUBTRACT)
    extrude(amount=BOSS_EXTRUDE1_DEPTH)


solid = part.part
